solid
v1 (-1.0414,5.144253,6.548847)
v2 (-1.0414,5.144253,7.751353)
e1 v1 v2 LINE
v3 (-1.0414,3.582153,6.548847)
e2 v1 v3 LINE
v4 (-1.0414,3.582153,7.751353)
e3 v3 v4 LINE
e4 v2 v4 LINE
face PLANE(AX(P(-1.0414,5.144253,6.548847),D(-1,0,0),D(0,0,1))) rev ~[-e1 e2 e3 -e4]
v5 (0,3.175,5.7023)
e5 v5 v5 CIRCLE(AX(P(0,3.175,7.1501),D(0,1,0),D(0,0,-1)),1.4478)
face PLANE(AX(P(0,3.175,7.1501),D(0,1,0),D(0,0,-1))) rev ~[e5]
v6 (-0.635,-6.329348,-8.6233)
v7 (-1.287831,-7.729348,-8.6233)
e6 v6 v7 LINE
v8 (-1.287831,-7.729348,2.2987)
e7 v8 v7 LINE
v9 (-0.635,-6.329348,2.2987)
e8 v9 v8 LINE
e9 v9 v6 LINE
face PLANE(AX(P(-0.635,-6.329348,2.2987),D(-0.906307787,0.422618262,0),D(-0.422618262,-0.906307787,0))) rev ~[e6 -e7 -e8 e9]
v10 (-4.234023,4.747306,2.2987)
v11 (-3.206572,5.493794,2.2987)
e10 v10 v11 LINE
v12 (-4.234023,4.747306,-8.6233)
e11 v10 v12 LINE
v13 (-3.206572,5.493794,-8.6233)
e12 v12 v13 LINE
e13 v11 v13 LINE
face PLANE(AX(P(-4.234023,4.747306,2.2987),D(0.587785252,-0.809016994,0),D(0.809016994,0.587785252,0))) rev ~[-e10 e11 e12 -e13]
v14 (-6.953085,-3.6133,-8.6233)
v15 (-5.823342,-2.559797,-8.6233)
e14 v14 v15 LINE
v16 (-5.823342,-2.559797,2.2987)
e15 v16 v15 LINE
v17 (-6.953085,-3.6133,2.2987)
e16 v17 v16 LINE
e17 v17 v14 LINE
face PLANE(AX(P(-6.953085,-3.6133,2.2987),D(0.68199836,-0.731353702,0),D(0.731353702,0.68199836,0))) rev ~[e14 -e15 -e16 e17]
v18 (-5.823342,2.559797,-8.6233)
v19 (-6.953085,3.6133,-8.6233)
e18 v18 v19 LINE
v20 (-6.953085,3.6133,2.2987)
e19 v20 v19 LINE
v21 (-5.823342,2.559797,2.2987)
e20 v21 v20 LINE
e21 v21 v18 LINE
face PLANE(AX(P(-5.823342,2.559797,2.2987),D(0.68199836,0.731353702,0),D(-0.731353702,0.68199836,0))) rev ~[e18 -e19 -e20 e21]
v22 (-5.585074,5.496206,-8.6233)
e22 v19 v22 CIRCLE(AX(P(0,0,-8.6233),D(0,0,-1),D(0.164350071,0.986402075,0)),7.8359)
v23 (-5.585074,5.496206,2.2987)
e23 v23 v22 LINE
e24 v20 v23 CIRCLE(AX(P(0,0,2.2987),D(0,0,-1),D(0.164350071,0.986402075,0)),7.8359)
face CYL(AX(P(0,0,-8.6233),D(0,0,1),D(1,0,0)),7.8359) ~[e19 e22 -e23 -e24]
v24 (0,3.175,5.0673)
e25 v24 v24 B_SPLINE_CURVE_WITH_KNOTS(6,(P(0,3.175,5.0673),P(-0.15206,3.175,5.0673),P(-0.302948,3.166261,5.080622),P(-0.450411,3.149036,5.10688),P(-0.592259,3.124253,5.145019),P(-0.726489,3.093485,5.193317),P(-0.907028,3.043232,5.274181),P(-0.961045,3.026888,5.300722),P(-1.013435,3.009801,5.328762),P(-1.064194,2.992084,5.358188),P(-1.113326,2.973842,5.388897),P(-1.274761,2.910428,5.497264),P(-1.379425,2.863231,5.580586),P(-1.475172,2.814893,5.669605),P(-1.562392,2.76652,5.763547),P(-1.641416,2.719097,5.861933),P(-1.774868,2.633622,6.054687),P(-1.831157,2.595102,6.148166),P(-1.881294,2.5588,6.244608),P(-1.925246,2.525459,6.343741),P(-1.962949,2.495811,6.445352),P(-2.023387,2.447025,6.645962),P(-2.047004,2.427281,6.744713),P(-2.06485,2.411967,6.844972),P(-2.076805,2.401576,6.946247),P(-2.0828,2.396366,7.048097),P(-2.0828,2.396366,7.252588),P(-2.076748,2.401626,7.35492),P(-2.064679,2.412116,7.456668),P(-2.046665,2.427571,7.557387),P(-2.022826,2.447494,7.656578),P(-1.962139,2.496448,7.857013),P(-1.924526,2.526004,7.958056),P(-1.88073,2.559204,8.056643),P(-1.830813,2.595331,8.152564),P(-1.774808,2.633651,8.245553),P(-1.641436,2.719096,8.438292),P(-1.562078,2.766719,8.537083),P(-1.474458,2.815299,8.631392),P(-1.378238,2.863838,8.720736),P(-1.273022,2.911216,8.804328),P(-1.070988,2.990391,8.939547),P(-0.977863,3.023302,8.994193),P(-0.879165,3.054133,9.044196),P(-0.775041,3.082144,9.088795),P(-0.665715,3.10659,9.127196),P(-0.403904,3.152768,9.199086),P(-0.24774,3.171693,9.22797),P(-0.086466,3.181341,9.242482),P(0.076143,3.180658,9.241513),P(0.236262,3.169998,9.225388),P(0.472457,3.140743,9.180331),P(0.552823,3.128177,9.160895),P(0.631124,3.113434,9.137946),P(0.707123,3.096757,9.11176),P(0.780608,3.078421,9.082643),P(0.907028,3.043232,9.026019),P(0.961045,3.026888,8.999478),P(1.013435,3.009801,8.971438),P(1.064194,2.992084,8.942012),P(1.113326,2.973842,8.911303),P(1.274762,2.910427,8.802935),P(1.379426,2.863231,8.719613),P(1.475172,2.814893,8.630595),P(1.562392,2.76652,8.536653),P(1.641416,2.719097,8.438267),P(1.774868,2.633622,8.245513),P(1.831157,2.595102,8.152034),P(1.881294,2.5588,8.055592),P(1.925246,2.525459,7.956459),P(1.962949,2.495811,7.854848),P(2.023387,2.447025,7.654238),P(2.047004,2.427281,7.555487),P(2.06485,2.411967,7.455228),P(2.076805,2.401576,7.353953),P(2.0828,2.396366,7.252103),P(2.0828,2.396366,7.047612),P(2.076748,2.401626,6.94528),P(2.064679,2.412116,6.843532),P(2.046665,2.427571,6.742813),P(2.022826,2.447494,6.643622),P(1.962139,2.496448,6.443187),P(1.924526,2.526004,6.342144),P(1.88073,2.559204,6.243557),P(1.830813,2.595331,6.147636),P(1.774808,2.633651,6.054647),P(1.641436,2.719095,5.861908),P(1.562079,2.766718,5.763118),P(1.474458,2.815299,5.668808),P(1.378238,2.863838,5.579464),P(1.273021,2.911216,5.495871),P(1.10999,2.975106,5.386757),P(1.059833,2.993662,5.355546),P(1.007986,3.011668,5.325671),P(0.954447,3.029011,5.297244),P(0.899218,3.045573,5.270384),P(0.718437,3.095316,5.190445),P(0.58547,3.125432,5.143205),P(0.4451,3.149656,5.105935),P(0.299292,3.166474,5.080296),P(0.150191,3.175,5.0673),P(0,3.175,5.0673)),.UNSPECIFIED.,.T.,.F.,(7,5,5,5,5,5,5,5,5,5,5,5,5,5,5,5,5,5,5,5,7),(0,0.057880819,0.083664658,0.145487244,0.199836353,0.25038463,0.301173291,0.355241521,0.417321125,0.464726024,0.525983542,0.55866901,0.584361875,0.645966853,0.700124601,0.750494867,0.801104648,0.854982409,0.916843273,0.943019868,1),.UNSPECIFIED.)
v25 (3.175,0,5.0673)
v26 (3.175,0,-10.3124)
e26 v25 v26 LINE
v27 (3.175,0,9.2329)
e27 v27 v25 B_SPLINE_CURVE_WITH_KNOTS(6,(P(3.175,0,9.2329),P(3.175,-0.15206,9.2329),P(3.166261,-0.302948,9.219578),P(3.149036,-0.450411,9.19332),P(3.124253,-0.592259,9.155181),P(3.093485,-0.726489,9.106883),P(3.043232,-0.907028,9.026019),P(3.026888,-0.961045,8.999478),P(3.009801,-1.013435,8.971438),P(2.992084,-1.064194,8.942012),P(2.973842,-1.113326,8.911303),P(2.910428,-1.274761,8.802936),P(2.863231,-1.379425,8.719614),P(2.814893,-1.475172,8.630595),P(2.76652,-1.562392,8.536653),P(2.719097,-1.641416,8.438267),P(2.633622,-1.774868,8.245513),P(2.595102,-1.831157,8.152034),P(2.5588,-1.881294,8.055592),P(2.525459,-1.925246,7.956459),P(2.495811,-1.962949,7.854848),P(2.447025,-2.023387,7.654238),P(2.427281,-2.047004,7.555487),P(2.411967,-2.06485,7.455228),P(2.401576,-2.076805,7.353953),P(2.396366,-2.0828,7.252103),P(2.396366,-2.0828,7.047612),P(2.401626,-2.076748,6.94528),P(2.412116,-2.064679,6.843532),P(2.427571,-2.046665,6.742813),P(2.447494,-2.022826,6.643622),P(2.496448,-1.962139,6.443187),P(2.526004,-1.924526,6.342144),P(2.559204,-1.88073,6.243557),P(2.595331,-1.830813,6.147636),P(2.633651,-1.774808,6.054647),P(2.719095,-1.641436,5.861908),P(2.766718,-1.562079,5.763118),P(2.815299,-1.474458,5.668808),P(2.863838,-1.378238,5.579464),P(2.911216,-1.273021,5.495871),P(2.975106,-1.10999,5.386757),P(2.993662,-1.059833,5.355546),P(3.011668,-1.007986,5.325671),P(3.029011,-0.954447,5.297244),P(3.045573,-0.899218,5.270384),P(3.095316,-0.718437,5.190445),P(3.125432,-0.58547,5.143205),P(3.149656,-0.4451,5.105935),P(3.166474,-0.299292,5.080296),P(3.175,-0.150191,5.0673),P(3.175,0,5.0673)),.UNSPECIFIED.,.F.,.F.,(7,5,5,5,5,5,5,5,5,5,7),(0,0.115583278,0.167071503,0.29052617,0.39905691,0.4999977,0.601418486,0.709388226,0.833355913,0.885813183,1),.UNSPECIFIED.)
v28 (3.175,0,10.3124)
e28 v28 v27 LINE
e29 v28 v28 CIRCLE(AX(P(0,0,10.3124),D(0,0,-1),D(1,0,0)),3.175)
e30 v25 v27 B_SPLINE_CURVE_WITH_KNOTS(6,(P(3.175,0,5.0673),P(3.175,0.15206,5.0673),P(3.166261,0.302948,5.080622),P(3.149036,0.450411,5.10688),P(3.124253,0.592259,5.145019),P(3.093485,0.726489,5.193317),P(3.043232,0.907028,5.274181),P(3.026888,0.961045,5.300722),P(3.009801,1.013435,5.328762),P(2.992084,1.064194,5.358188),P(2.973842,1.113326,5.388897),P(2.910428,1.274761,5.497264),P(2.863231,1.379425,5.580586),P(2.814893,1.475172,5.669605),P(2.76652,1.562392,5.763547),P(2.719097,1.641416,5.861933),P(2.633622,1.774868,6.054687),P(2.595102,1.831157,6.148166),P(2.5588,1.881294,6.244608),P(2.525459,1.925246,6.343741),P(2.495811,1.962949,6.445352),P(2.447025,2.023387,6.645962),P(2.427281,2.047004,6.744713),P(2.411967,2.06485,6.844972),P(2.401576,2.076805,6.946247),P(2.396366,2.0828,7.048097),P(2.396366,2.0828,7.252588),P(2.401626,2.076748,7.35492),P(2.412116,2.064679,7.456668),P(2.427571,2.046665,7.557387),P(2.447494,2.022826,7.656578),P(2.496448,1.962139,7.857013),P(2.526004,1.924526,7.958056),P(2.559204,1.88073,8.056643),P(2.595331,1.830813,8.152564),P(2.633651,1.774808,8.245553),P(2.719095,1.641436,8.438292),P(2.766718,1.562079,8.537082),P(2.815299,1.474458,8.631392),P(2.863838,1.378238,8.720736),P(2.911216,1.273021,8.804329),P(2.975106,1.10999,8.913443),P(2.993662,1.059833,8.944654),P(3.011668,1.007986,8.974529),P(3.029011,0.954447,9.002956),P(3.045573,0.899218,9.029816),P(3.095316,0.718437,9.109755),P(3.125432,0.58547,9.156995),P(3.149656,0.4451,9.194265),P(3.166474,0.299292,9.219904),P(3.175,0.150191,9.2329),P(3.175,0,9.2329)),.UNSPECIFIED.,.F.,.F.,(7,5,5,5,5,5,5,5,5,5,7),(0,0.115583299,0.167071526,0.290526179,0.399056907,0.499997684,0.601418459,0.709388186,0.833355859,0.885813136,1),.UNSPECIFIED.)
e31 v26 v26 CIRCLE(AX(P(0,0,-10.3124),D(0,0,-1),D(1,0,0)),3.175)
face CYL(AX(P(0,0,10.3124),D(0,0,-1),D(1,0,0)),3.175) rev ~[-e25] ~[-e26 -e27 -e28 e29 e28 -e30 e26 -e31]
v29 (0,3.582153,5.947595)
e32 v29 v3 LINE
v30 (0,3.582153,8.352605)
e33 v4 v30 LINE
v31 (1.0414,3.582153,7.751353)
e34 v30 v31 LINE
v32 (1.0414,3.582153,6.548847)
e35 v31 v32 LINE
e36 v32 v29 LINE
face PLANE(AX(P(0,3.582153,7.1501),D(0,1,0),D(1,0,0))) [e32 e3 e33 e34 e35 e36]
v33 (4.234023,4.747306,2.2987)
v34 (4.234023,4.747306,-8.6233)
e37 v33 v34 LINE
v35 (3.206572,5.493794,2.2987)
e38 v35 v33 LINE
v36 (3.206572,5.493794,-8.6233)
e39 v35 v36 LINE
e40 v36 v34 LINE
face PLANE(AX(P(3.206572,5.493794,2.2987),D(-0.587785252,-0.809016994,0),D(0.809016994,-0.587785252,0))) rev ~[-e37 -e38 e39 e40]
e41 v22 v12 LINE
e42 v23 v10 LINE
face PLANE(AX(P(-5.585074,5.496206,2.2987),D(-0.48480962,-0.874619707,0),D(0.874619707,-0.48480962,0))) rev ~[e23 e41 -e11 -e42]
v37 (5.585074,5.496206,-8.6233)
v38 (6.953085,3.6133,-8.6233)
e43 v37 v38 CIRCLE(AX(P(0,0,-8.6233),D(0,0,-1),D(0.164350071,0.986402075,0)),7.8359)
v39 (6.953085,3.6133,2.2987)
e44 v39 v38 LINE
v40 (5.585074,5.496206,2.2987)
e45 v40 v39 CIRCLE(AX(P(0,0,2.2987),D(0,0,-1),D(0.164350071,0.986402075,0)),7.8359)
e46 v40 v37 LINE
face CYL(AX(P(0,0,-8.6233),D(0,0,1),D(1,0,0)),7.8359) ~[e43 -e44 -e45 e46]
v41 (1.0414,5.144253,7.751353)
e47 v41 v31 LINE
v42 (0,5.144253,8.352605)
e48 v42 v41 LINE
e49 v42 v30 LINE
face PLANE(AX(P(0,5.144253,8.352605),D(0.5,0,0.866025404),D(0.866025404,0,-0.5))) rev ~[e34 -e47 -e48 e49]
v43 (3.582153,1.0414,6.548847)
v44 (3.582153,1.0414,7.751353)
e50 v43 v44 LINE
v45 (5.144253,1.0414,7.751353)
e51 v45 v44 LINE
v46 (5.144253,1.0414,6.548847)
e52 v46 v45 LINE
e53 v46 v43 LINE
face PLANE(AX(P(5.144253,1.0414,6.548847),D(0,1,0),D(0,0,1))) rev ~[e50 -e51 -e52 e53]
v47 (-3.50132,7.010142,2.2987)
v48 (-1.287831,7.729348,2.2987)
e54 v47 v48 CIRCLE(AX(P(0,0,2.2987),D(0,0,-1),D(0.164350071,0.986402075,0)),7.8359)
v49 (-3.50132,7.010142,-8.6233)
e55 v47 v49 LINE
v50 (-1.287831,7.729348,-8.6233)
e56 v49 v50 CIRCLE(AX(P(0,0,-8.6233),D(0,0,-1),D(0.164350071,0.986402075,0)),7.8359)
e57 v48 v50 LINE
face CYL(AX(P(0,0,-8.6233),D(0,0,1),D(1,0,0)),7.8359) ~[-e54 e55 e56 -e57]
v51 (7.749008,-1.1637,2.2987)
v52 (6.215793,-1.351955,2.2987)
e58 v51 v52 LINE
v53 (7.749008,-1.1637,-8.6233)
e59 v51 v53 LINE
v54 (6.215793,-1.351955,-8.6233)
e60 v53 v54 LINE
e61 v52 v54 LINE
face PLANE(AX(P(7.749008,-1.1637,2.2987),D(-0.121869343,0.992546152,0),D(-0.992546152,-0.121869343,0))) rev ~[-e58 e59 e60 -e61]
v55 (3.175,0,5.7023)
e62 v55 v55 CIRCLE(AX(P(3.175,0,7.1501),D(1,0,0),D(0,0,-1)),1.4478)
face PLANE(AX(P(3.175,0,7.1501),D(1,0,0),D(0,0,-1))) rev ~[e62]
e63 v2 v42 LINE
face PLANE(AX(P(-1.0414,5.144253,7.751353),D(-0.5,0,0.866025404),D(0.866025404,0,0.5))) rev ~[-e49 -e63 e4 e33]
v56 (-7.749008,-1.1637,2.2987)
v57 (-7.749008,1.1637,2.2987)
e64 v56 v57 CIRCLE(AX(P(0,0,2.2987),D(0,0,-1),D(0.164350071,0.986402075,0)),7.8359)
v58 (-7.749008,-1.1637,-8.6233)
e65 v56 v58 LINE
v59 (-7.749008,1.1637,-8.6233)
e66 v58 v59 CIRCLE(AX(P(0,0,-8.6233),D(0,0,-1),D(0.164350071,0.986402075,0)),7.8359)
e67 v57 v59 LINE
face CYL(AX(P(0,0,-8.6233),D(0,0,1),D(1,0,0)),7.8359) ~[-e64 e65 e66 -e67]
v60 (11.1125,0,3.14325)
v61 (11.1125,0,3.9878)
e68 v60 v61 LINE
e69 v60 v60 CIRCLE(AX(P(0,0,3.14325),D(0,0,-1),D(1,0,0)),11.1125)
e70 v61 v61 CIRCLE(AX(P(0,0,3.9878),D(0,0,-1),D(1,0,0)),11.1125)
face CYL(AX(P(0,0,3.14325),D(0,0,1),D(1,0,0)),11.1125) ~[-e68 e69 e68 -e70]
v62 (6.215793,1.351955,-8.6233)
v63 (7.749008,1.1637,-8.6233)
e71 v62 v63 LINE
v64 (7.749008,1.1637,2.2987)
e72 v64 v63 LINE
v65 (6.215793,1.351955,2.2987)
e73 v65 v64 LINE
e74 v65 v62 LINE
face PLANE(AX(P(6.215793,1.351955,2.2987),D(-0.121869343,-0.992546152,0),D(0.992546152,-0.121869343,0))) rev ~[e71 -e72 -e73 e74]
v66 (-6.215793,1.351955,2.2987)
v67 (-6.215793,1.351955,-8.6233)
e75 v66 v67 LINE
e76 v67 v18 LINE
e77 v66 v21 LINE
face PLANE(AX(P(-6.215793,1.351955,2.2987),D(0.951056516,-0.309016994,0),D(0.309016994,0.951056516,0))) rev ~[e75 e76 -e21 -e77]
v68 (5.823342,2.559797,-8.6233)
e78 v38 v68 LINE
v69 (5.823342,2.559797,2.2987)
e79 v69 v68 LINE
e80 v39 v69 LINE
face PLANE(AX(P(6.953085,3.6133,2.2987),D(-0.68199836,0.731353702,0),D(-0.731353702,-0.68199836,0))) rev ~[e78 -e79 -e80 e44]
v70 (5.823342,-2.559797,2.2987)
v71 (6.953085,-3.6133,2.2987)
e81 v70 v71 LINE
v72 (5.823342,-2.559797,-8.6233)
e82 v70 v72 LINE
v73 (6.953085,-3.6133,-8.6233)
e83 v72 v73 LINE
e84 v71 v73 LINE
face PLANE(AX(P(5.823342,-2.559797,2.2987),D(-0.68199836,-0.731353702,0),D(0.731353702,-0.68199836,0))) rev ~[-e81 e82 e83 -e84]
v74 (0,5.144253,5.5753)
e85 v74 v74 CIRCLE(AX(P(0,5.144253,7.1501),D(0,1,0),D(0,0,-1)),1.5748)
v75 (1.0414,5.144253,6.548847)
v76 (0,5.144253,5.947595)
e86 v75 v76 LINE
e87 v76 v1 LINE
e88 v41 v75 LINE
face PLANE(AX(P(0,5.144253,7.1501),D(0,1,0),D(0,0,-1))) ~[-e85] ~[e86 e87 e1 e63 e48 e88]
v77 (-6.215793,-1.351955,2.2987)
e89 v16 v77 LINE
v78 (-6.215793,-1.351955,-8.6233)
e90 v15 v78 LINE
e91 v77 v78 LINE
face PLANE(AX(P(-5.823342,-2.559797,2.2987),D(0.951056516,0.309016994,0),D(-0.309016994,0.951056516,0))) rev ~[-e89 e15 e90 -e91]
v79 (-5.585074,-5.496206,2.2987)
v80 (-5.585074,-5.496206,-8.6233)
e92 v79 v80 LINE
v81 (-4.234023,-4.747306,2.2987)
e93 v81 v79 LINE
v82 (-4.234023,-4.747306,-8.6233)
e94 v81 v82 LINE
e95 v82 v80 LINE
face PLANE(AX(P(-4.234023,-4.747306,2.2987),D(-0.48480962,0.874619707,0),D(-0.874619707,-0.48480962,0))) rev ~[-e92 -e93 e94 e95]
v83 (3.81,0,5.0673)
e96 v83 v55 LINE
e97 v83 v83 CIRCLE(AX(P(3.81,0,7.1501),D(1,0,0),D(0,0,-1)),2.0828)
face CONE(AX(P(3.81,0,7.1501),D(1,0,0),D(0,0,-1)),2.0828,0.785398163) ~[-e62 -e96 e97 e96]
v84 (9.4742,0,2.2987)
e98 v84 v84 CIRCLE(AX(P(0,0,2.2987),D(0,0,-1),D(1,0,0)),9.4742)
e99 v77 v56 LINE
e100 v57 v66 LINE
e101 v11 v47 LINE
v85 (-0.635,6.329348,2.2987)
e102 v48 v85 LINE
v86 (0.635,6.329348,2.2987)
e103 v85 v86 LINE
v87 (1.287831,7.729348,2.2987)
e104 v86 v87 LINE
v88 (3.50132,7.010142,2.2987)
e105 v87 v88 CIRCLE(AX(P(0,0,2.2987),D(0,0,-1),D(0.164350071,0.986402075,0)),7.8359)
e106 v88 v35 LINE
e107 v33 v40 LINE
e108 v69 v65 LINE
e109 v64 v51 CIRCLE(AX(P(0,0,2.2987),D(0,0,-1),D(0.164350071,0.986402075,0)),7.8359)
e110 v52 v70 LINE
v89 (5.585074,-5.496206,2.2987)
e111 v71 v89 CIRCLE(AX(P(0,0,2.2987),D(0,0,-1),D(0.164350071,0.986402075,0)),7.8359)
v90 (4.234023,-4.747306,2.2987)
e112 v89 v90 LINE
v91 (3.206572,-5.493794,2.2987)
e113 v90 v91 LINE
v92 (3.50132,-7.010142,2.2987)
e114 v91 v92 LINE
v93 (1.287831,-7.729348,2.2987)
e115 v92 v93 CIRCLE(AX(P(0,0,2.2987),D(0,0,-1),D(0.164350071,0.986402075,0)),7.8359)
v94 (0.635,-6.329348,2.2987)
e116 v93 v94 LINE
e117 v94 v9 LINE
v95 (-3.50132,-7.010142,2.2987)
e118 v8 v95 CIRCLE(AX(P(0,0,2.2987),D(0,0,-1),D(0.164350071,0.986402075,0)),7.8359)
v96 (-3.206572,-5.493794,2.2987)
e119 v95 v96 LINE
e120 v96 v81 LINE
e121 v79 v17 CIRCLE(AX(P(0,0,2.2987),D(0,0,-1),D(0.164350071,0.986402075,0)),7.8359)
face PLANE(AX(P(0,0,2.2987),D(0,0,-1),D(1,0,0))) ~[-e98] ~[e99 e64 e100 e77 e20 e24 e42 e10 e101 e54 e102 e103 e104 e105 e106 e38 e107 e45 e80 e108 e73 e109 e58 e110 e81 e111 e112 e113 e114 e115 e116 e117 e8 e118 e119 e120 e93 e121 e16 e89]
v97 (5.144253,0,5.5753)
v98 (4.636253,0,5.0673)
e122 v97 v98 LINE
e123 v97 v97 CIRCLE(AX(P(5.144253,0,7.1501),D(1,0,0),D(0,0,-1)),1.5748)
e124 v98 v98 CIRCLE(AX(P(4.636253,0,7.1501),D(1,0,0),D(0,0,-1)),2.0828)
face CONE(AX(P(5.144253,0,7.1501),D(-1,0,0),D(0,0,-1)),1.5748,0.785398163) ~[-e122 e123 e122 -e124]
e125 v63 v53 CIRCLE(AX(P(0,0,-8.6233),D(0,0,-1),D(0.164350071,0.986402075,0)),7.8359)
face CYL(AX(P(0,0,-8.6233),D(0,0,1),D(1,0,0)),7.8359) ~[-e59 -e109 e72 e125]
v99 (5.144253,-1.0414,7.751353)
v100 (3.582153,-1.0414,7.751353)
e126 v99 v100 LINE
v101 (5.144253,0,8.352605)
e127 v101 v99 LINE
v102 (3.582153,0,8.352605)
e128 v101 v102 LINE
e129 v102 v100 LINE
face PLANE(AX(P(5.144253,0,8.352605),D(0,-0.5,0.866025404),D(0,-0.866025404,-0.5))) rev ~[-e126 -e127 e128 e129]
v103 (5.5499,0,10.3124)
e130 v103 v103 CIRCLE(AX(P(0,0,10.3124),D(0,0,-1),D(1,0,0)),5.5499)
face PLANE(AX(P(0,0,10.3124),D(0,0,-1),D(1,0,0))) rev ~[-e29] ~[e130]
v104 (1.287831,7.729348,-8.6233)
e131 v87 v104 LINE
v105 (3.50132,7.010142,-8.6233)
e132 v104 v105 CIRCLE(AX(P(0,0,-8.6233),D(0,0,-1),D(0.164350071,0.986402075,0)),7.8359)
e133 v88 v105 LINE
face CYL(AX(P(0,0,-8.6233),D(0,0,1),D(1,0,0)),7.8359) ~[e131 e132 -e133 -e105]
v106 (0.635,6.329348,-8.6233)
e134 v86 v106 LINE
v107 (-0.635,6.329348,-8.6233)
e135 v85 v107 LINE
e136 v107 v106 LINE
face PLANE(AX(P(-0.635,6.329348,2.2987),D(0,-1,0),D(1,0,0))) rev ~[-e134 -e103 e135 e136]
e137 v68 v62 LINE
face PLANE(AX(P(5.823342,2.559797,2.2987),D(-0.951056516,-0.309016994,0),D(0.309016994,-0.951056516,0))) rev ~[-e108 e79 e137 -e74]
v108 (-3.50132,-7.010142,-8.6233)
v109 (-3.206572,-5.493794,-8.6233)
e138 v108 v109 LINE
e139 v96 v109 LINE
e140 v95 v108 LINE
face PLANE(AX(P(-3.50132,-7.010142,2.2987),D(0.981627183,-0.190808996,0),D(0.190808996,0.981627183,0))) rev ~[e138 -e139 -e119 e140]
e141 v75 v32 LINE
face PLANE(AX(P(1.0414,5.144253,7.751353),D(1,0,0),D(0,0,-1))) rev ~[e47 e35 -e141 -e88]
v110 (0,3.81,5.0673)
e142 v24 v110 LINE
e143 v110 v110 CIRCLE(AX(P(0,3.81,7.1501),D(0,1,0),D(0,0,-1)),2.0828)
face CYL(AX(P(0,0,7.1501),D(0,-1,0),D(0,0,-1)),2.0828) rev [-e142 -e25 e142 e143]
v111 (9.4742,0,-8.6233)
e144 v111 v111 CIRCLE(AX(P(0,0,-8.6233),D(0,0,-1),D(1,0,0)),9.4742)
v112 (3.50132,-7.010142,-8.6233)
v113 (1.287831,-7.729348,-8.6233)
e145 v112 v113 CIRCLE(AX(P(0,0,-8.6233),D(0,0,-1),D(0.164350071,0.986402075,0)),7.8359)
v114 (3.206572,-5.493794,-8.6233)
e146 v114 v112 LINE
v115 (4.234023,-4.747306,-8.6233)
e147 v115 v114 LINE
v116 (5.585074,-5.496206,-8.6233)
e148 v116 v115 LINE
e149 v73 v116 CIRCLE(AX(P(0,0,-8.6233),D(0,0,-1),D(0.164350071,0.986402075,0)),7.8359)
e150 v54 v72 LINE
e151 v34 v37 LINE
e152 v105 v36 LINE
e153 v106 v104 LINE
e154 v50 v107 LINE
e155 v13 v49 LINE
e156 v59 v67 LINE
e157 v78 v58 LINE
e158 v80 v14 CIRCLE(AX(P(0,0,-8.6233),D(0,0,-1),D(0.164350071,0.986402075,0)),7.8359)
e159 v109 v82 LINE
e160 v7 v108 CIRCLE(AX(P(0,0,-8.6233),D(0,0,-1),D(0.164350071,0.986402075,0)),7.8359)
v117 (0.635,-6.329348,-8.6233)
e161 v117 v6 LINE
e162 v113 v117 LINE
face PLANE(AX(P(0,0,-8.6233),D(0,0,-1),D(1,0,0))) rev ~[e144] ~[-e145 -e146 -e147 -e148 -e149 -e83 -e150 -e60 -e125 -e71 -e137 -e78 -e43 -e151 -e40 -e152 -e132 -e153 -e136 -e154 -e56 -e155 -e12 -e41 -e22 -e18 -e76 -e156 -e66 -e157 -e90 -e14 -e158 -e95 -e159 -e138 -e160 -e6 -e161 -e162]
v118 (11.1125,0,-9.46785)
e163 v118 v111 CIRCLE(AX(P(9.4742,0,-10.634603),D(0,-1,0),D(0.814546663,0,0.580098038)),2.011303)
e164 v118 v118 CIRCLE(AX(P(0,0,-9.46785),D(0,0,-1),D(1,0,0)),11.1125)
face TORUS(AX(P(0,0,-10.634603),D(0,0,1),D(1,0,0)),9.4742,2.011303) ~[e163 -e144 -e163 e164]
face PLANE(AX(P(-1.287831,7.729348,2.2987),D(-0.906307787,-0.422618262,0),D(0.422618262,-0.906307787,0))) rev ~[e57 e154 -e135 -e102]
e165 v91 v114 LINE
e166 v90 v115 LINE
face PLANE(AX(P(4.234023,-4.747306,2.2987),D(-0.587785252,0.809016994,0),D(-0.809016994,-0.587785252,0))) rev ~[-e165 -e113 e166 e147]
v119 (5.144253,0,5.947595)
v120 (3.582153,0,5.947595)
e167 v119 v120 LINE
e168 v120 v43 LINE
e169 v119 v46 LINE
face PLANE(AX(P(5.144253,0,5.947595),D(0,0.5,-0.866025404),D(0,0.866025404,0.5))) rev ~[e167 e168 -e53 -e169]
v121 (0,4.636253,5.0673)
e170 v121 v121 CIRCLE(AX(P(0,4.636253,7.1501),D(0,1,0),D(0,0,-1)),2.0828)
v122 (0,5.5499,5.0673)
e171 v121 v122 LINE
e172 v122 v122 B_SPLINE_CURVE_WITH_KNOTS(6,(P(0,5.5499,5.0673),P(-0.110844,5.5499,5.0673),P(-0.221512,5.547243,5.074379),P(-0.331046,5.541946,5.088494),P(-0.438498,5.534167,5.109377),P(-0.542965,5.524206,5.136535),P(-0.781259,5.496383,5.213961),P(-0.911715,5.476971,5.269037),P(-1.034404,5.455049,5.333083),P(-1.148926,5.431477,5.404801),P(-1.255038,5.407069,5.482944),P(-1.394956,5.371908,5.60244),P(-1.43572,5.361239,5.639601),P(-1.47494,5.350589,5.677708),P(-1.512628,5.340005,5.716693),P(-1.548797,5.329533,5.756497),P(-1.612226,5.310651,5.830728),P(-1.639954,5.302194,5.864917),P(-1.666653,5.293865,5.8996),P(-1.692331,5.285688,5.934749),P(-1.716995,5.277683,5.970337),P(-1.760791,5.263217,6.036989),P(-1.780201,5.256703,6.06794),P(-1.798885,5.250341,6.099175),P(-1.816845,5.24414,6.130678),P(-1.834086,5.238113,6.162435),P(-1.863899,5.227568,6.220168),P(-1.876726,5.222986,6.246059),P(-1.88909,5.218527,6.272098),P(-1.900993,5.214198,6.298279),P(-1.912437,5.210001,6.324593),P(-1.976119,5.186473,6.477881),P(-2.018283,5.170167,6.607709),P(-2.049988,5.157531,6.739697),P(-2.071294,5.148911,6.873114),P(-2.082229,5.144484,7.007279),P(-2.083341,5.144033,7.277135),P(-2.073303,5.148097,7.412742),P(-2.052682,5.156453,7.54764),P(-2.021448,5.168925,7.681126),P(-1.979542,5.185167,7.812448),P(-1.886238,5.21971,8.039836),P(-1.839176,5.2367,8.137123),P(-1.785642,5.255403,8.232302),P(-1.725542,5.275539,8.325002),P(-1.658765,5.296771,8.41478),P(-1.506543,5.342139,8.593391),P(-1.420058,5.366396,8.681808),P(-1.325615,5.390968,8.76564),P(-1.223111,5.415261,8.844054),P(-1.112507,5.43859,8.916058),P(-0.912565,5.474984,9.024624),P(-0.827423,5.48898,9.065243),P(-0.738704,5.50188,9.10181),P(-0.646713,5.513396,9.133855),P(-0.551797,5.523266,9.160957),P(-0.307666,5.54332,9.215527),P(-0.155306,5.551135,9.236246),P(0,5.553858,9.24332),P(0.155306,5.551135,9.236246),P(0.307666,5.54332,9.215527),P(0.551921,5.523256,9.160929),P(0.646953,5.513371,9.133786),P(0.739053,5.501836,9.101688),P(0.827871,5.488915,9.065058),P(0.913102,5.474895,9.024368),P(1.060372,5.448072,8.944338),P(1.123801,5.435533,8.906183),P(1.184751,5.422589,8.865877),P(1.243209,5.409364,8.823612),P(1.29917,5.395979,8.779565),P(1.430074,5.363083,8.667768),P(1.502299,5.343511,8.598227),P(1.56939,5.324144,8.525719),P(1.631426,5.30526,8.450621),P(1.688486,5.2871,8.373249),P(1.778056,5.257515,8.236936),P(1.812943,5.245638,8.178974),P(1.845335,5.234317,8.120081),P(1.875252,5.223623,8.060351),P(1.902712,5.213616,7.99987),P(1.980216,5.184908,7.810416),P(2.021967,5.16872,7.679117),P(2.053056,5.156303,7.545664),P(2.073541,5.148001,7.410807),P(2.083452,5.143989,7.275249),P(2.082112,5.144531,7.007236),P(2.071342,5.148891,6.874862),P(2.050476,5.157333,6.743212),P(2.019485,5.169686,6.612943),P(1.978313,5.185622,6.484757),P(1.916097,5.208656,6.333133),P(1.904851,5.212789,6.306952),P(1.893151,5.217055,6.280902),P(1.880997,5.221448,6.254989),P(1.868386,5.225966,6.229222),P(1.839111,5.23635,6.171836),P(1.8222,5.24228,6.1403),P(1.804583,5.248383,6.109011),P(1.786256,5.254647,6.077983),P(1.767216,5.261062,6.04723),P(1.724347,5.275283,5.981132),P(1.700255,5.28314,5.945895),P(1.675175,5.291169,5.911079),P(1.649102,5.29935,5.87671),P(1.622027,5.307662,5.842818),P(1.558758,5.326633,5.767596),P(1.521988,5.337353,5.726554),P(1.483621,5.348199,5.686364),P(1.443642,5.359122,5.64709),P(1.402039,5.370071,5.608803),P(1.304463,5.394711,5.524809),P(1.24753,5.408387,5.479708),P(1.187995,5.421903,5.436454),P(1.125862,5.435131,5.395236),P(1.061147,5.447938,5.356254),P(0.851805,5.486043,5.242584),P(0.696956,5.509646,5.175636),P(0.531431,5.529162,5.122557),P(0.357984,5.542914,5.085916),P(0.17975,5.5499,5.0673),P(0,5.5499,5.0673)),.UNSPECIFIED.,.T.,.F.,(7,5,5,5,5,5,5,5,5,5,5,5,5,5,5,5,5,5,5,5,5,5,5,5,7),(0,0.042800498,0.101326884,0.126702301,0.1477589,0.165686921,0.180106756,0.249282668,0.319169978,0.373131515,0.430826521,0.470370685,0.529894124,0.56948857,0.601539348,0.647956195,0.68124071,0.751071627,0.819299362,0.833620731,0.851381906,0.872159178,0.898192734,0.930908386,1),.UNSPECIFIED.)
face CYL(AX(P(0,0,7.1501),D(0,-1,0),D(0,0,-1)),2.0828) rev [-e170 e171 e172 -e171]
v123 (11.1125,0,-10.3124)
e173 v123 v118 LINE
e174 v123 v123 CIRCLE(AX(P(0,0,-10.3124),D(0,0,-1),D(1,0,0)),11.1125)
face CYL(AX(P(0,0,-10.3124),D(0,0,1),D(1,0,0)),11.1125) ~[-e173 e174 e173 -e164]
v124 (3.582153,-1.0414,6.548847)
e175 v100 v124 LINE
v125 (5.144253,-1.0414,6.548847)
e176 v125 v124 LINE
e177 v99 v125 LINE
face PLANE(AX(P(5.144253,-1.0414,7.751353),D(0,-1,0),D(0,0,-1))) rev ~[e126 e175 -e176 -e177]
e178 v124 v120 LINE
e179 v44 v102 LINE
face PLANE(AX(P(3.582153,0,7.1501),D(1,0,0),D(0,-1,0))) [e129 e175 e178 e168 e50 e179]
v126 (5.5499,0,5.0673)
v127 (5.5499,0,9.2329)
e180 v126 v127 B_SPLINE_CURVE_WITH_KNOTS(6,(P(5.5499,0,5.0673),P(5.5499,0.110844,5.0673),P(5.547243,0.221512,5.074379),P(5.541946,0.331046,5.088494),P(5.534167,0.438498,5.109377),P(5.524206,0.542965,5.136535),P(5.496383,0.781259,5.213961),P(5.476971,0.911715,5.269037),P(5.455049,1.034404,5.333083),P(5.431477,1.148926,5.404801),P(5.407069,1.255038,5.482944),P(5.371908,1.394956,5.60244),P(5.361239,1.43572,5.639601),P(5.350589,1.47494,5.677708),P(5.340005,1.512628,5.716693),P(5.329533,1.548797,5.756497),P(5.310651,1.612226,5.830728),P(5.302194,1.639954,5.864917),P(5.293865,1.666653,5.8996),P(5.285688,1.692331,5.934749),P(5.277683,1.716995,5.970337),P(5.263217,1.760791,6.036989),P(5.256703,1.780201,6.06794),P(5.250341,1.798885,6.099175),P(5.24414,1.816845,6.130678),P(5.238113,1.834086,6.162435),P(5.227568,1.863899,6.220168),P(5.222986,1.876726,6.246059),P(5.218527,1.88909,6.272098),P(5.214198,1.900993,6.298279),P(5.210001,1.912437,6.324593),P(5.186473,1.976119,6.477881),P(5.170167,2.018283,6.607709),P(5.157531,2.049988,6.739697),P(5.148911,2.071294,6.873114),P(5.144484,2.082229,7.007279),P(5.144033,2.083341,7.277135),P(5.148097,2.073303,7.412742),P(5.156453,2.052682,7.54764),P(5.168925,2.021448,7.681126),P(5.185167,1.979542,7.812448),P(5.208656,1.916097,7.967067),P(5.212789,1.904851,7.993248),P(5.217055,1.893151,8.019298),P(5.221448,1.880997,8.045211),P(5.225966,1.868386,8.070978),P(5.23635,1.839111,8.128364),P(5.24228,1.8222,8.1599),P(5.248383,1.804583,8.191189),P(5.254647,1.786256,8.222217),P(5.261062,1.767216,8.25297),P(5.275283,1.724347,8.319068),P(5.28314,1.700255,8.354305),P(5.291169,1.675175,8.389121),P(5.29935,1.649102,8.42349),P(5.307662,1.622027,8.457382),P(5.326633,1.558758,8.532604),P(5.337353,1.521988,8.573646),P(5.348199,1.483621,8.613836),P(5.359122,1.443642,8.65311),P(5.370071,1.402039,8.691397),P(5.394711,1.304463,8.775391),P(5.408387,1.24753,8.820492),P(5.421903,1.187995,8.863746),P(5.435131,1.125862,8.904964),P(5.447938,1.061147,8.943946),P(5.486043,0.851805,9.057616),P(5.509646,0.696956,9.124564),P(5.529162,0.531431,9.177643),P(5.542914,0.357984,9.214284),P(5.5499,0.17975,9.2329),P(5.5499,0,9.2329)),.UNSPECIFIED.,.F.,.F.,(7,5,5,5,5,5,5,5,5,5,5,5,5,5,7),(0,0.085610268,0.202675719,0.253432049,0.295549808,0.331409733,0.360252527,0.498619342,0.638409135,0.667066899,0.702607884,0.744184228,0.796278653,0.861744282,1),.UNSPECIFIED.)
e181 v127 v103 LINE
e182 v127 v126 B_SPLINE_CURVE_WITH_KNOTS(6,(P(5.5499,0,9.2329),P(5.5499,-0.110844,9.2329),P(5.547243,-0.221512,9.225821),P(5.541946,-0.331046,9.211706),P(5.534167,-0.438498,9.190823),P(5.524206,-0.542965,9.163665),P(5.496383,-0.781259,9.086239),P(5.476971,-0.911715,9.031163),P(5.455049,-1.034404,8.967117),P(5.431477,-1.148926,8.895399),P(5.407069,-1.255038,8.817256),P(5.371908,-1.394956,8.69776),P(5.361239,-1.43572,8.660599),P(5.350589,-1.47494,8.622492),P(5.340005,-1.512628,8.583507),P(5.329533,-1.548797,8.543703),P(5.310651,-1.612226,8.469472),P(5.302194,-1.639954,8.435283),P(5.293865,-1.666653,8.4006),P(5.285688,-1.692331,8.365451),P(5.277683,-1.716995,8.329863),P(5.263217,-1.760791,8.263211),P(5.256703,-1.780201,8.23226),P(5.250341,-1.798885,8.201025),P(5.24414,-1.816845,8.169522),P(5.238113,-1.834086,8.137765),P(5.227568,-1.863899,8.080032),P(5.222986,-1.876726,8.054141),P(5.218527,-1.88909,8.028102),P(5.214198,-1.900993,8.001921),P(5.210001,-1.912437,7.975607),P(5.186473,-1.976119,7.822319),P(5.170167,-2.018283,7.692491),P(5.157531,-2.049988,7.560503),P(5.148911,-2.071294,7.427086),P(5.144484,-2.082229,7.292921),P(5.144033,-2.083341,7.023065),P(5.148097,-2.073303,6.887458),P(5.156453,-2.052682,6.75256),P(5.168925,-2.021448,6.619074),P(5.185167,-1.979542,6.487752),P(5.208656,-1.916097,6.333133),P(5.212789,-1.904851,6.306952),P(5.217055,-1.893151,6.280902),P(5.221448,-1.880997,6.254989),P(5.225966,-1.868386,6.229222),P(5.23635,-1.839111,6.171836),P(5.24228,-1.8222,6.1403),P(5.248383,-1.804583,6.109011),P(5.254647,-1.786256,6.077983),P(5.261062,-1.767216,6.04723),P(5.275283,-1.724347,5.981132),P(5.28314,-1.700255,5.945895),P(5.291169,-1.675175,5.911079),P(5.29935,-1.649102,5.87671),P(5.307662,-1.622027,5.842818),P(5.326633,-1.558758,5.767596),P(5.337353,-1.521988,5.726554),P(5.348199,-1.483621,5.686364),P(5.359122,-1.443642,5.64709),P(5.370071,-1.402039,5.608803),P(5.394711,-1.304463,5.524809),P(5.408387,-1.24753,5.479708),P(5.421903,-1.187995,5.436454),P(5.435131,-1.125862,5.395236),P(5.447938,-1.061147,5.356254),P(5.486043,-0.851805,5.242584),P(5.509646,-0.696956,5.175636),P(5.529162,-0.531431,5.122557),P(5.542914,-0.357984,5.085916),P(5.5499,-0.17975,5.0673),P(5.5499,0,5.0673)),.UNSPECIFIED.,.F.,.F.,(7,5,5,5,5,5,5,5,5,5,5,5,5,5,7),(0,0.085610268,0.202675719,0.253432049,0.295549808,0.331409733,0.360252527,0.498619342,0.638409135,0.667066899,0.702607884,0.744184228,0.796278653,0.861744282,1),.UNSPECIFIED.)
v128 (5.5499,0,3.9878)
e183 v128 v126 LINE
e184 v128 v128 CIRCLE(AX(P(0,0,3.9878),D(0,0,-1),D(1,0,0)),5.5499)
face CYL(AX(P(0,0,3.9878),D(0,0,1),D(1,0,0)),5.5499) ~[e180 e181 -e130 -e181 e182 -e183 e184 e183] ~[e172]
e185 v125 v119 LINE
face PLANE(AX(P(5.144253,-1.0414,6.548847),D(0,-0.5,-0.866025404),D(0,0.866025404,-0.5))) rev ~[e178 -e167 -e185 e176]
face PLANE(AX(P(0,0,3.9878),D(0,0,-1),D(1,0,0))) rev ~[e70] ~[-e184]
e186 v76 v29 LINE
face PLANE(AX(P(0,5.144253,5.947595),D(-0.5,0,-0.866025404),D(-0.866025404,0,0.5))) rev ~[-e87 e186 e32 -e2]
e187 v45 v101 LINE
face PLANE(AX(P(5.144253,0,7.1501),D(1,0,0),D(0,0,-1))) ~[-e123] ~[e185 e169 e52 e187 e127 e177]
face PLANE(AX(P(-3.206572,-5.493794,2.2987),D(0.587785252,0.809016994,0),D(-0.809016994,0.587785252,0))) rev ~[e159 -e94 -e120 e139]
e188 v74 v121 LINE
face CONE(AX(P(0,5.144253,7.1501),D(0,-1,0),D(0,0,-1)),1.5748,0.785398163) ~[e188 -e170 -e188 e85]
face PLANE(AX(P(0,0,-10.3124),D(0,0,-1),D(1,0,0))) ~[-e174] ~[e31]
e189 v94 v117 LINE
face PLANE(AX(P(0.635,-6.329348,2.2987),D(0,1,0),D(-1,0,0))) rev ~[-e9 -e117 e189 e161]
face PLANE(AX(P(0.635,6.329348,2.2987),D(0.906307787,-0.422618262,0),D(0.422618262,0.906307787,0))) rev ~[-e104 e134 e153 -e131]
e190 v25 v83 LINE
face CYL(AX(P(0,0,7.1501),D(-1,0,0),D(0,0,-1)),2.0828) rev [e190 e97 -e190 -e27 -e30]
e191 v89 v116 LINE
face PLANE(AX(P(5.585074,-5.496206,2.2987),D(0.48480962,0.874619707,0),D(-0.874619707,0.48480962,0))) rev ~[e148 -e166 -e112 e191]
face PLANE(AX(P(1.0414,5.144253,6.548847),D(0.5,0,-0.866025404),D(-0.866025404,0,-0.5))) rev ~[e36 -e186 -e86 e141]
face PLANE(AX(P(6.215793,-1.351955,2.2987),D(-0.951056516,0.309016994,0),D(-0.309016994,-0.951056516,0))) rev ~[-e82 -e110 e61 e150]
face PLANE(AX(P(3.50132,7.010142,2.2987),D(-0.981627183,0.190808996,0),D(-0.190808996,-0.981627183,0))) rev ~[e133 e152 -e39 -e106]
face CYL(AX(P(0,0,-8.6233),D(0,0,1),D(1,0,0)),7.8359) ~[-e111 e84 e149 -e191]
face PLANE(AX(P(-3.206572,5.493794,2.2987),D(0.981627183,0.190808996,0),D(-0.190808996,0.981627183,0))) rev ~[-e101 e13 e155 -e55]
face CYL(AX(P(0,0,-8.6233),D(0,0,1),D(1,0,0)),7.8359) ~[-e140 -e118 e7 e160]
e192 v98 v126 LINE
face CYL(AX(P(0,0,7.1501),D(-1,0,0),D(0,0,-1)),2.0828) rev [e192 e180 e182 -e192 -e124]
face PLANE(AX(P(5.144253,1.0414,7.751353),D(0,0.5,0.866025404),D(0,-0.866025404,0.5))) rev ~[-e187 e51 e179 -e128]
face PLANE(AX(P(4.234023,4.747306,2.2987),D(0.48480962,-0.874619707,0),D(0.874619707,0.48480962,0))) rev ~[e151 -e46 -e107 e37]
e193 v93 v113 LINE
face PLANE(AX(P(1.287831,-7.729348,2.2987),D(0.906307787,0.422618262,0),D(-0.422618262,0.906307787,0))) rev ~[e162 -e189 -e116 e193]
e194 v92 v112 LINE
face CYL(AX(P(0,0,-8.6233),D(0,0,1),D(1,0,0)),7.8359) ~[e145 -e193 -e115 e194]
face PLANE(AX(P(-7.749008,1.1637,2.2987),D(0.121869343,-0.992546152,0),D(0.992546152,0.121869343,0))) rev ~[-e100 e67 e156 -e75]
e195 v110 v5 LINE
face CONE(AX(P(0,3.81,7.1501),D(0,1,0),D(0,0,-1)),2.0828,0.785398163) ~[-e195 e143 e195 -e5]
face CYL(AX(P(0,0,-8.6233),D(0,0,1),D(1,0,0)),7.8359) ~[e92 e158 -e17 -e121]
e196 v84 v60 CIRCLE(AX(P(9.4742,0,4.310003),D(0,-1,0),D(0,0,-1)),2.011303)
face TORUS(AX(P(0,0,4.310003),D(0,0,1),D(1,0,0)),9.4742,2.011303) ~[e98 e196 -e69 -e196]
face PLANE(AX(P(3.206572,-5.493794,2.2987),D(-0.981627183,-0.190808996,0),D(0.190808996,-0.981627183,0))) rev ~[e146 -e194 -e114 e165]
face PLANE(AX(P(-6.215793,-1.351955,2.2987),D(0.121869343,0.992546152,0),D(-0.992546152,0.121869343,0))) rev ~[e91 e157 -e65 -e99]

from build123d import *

# Parameters (mm, degrees)
CUT_EXTRUDE1_START = 2.2987
CUT_EXTRUDE1_DEPTH = 10.922
CIRPATTERN1_COUNT  = 10
SKETCH4_R          = 2.0828
CUT_EXTRUDE2_DEPTH = 19.796832346
CUT_EXTRUDE3_DEPTH = 1.5621
CIRPATTERN2_COUNT  = 2
CIRPATTERN2_ANGLE  = 90


with BuildPart() as part:
    # Sketch2 → Revolve1 (revolve)
    with BuildSketch(Plane(origin=(0, 0, 0), x_dir=(0, 0, -1), z_dir=(1, 0, 0)), mode=Mode.PRIVATE) as revolve1_sk:
        with BuildLine():
            Line((-10.3124, 3.175), (10.3124, 3.175))
            Line((10.3124, 3.175), (10.3124, 11.1125))
            Line((10.3124, 11.1125), (9.46785, 11.1125))
            ThreePointArc((9.46785, 11.1125), (8.846862309, 10.395787163), (8.6233, 9.4742))
            Line((8.6233, 9.4742), (8.6233, 7.8359))
            Line((8.6233, 7.8359), (-2.2987, 7.8359))
            Line((-2.2987, 7.8359), (-2.2987, 9.4742))
            ThreePointArc((-2.2987, 9.4742), (-2.522262309, 10.395787163), (-3.14325, 11.1125))
            Line((-3.14325, 11.1125), (-3.9878, 11.1125))
            Line((-3.9878, 11.1125), (-3.9878, 5.5499))
            Line((-3.9878, 5.5499), (-10.3124, 5.5499))
            Line((-10.3124, 5.5499), (-10.3124, 3.175))
        make_face()
    revolve(revolve1_sk.sketch.rotate(Axis((0, 0, 10.3124), (0, 0, -1)), 90), axis=Axis((0, 0, 10.3124), (0, 0, -1)))

    # Sketch3 → Cut-Extrude1 (cut)
    with BuildSketch(Plane.XY.offset(CUT_EXTRUDE1_START)):
        with BuildLine():
            Line((-0.635, 6.329348022), (0.635, 6.329348022))
            Line((0.635, 6.329348022), (1.287830721, 7.729348022))
            ThreePointArc((1.287830721, 7.729348022), (0, 7.8359), (-1.287830721, 7.729348022))
            Line((-1.287830721, 7.729348022), (-0.635, 6.329348022))
        make_face()
    cut_extrude1 = extrude(amount=-CUT_EXTRUDE1_DEPTH, mode=Mode.SUBTRACT)

    # CirPattern1: Cut-Extrude1 ×10 about axis
    cirpattern1_axis = Axis((0, 0, 0), (0, 0, 1))
    for i in range(1, CIRPATTERN1_COUNT):
        add(cut_extrude1.rotate(cirpattern1_axis, i * 360 / CIRPATTERN1_COUNT), mode=Mode.SUBTRACT)

    # Sketch4 → Cut-Extrude2 (cut, through all)
    with BuildSketch(Plane(origin=(0, 0, 0), x_dir=(1, 0, 0), z_dir=(0, 1, 0))):
        with Locations(Location((0, -7.1501, 0), (0, 0, 90))):
            Circle(SKETCH4_R)
    cut_extrude2 = extrude(amount=CUT_EXTRUDE2_DEPTH, mode=Mode.SUBTRACT)

    # Sketch5 → Revolve2 (revolve)
    with BuildSketch(Plane.XY.offset(7.1501), mode=Mode.PRIVATE) as revolve2_sk:
        Polygon((1.5748, 5.144252538), (2.0828, 4.636252538), (2.0828, 3.81), (1.4478, 3.175), (0, 3.175), (0, 5.144252538), align=None)
    revolve2 = revolve(revolve2_sk.sketch.rotate(Axis((0, 0, 7.1501), (0, 1, 0)), 90), axis=Axis((0, 0, 7.1501), (0, 1, 0)))

    # Sketch6 → Cut-Extrude3 (cut)
    with BuildSketch(Plane(origin=(0, 5.144252538, 0), x_dir=(1, 0, 0), z_dir=(0, 1, 0))):
        Polygon((0, -5.947594859), (-1.0414, -6.54884743), (-1.0414, -7.75135257), (0, -8.352605141), (1.0414, -7.75135257), (1.0414, -6.54884743), align=None)
    cut_extrude3 = extrude(amount=-CUT_EXTRUDE3_DEPTH, mode=Mode.SUBTRACT)

    # CirPattern2: Cut-Extrude2, Revolve2, Cut-Extrude3 ×2 about axis
    cirpattern2_axis = Axis((0, 0, 0), (0, 0, -1))
    add([cut_extrude2.rotate(cirpattern2_axis, i * CIRPATTERN2_ANGLE / (CIRPATTERN2_COUNT - 1)) for i in range(1, CIRPATTERN2_COUNT)], mode=Mode.SUBTRACT)
    add([revolve2.rotate(cirpattern2_axis, i * CIRPATTERN2_ANGLE / (CIRPATTERN2_COUNT - 1)) for i in range(1, CIRPATTERN2_COUNT)])
    add([cut_extrude3.rotate(cirpattern2_axis, i * CIRPATTERN2_ANGLE / (CIRPATTERN2_COUNT - 1)) for i in range(1, CIRPATTERN2_COUNT)], mode=Mode.SUBTRACT)


solid = part.part
